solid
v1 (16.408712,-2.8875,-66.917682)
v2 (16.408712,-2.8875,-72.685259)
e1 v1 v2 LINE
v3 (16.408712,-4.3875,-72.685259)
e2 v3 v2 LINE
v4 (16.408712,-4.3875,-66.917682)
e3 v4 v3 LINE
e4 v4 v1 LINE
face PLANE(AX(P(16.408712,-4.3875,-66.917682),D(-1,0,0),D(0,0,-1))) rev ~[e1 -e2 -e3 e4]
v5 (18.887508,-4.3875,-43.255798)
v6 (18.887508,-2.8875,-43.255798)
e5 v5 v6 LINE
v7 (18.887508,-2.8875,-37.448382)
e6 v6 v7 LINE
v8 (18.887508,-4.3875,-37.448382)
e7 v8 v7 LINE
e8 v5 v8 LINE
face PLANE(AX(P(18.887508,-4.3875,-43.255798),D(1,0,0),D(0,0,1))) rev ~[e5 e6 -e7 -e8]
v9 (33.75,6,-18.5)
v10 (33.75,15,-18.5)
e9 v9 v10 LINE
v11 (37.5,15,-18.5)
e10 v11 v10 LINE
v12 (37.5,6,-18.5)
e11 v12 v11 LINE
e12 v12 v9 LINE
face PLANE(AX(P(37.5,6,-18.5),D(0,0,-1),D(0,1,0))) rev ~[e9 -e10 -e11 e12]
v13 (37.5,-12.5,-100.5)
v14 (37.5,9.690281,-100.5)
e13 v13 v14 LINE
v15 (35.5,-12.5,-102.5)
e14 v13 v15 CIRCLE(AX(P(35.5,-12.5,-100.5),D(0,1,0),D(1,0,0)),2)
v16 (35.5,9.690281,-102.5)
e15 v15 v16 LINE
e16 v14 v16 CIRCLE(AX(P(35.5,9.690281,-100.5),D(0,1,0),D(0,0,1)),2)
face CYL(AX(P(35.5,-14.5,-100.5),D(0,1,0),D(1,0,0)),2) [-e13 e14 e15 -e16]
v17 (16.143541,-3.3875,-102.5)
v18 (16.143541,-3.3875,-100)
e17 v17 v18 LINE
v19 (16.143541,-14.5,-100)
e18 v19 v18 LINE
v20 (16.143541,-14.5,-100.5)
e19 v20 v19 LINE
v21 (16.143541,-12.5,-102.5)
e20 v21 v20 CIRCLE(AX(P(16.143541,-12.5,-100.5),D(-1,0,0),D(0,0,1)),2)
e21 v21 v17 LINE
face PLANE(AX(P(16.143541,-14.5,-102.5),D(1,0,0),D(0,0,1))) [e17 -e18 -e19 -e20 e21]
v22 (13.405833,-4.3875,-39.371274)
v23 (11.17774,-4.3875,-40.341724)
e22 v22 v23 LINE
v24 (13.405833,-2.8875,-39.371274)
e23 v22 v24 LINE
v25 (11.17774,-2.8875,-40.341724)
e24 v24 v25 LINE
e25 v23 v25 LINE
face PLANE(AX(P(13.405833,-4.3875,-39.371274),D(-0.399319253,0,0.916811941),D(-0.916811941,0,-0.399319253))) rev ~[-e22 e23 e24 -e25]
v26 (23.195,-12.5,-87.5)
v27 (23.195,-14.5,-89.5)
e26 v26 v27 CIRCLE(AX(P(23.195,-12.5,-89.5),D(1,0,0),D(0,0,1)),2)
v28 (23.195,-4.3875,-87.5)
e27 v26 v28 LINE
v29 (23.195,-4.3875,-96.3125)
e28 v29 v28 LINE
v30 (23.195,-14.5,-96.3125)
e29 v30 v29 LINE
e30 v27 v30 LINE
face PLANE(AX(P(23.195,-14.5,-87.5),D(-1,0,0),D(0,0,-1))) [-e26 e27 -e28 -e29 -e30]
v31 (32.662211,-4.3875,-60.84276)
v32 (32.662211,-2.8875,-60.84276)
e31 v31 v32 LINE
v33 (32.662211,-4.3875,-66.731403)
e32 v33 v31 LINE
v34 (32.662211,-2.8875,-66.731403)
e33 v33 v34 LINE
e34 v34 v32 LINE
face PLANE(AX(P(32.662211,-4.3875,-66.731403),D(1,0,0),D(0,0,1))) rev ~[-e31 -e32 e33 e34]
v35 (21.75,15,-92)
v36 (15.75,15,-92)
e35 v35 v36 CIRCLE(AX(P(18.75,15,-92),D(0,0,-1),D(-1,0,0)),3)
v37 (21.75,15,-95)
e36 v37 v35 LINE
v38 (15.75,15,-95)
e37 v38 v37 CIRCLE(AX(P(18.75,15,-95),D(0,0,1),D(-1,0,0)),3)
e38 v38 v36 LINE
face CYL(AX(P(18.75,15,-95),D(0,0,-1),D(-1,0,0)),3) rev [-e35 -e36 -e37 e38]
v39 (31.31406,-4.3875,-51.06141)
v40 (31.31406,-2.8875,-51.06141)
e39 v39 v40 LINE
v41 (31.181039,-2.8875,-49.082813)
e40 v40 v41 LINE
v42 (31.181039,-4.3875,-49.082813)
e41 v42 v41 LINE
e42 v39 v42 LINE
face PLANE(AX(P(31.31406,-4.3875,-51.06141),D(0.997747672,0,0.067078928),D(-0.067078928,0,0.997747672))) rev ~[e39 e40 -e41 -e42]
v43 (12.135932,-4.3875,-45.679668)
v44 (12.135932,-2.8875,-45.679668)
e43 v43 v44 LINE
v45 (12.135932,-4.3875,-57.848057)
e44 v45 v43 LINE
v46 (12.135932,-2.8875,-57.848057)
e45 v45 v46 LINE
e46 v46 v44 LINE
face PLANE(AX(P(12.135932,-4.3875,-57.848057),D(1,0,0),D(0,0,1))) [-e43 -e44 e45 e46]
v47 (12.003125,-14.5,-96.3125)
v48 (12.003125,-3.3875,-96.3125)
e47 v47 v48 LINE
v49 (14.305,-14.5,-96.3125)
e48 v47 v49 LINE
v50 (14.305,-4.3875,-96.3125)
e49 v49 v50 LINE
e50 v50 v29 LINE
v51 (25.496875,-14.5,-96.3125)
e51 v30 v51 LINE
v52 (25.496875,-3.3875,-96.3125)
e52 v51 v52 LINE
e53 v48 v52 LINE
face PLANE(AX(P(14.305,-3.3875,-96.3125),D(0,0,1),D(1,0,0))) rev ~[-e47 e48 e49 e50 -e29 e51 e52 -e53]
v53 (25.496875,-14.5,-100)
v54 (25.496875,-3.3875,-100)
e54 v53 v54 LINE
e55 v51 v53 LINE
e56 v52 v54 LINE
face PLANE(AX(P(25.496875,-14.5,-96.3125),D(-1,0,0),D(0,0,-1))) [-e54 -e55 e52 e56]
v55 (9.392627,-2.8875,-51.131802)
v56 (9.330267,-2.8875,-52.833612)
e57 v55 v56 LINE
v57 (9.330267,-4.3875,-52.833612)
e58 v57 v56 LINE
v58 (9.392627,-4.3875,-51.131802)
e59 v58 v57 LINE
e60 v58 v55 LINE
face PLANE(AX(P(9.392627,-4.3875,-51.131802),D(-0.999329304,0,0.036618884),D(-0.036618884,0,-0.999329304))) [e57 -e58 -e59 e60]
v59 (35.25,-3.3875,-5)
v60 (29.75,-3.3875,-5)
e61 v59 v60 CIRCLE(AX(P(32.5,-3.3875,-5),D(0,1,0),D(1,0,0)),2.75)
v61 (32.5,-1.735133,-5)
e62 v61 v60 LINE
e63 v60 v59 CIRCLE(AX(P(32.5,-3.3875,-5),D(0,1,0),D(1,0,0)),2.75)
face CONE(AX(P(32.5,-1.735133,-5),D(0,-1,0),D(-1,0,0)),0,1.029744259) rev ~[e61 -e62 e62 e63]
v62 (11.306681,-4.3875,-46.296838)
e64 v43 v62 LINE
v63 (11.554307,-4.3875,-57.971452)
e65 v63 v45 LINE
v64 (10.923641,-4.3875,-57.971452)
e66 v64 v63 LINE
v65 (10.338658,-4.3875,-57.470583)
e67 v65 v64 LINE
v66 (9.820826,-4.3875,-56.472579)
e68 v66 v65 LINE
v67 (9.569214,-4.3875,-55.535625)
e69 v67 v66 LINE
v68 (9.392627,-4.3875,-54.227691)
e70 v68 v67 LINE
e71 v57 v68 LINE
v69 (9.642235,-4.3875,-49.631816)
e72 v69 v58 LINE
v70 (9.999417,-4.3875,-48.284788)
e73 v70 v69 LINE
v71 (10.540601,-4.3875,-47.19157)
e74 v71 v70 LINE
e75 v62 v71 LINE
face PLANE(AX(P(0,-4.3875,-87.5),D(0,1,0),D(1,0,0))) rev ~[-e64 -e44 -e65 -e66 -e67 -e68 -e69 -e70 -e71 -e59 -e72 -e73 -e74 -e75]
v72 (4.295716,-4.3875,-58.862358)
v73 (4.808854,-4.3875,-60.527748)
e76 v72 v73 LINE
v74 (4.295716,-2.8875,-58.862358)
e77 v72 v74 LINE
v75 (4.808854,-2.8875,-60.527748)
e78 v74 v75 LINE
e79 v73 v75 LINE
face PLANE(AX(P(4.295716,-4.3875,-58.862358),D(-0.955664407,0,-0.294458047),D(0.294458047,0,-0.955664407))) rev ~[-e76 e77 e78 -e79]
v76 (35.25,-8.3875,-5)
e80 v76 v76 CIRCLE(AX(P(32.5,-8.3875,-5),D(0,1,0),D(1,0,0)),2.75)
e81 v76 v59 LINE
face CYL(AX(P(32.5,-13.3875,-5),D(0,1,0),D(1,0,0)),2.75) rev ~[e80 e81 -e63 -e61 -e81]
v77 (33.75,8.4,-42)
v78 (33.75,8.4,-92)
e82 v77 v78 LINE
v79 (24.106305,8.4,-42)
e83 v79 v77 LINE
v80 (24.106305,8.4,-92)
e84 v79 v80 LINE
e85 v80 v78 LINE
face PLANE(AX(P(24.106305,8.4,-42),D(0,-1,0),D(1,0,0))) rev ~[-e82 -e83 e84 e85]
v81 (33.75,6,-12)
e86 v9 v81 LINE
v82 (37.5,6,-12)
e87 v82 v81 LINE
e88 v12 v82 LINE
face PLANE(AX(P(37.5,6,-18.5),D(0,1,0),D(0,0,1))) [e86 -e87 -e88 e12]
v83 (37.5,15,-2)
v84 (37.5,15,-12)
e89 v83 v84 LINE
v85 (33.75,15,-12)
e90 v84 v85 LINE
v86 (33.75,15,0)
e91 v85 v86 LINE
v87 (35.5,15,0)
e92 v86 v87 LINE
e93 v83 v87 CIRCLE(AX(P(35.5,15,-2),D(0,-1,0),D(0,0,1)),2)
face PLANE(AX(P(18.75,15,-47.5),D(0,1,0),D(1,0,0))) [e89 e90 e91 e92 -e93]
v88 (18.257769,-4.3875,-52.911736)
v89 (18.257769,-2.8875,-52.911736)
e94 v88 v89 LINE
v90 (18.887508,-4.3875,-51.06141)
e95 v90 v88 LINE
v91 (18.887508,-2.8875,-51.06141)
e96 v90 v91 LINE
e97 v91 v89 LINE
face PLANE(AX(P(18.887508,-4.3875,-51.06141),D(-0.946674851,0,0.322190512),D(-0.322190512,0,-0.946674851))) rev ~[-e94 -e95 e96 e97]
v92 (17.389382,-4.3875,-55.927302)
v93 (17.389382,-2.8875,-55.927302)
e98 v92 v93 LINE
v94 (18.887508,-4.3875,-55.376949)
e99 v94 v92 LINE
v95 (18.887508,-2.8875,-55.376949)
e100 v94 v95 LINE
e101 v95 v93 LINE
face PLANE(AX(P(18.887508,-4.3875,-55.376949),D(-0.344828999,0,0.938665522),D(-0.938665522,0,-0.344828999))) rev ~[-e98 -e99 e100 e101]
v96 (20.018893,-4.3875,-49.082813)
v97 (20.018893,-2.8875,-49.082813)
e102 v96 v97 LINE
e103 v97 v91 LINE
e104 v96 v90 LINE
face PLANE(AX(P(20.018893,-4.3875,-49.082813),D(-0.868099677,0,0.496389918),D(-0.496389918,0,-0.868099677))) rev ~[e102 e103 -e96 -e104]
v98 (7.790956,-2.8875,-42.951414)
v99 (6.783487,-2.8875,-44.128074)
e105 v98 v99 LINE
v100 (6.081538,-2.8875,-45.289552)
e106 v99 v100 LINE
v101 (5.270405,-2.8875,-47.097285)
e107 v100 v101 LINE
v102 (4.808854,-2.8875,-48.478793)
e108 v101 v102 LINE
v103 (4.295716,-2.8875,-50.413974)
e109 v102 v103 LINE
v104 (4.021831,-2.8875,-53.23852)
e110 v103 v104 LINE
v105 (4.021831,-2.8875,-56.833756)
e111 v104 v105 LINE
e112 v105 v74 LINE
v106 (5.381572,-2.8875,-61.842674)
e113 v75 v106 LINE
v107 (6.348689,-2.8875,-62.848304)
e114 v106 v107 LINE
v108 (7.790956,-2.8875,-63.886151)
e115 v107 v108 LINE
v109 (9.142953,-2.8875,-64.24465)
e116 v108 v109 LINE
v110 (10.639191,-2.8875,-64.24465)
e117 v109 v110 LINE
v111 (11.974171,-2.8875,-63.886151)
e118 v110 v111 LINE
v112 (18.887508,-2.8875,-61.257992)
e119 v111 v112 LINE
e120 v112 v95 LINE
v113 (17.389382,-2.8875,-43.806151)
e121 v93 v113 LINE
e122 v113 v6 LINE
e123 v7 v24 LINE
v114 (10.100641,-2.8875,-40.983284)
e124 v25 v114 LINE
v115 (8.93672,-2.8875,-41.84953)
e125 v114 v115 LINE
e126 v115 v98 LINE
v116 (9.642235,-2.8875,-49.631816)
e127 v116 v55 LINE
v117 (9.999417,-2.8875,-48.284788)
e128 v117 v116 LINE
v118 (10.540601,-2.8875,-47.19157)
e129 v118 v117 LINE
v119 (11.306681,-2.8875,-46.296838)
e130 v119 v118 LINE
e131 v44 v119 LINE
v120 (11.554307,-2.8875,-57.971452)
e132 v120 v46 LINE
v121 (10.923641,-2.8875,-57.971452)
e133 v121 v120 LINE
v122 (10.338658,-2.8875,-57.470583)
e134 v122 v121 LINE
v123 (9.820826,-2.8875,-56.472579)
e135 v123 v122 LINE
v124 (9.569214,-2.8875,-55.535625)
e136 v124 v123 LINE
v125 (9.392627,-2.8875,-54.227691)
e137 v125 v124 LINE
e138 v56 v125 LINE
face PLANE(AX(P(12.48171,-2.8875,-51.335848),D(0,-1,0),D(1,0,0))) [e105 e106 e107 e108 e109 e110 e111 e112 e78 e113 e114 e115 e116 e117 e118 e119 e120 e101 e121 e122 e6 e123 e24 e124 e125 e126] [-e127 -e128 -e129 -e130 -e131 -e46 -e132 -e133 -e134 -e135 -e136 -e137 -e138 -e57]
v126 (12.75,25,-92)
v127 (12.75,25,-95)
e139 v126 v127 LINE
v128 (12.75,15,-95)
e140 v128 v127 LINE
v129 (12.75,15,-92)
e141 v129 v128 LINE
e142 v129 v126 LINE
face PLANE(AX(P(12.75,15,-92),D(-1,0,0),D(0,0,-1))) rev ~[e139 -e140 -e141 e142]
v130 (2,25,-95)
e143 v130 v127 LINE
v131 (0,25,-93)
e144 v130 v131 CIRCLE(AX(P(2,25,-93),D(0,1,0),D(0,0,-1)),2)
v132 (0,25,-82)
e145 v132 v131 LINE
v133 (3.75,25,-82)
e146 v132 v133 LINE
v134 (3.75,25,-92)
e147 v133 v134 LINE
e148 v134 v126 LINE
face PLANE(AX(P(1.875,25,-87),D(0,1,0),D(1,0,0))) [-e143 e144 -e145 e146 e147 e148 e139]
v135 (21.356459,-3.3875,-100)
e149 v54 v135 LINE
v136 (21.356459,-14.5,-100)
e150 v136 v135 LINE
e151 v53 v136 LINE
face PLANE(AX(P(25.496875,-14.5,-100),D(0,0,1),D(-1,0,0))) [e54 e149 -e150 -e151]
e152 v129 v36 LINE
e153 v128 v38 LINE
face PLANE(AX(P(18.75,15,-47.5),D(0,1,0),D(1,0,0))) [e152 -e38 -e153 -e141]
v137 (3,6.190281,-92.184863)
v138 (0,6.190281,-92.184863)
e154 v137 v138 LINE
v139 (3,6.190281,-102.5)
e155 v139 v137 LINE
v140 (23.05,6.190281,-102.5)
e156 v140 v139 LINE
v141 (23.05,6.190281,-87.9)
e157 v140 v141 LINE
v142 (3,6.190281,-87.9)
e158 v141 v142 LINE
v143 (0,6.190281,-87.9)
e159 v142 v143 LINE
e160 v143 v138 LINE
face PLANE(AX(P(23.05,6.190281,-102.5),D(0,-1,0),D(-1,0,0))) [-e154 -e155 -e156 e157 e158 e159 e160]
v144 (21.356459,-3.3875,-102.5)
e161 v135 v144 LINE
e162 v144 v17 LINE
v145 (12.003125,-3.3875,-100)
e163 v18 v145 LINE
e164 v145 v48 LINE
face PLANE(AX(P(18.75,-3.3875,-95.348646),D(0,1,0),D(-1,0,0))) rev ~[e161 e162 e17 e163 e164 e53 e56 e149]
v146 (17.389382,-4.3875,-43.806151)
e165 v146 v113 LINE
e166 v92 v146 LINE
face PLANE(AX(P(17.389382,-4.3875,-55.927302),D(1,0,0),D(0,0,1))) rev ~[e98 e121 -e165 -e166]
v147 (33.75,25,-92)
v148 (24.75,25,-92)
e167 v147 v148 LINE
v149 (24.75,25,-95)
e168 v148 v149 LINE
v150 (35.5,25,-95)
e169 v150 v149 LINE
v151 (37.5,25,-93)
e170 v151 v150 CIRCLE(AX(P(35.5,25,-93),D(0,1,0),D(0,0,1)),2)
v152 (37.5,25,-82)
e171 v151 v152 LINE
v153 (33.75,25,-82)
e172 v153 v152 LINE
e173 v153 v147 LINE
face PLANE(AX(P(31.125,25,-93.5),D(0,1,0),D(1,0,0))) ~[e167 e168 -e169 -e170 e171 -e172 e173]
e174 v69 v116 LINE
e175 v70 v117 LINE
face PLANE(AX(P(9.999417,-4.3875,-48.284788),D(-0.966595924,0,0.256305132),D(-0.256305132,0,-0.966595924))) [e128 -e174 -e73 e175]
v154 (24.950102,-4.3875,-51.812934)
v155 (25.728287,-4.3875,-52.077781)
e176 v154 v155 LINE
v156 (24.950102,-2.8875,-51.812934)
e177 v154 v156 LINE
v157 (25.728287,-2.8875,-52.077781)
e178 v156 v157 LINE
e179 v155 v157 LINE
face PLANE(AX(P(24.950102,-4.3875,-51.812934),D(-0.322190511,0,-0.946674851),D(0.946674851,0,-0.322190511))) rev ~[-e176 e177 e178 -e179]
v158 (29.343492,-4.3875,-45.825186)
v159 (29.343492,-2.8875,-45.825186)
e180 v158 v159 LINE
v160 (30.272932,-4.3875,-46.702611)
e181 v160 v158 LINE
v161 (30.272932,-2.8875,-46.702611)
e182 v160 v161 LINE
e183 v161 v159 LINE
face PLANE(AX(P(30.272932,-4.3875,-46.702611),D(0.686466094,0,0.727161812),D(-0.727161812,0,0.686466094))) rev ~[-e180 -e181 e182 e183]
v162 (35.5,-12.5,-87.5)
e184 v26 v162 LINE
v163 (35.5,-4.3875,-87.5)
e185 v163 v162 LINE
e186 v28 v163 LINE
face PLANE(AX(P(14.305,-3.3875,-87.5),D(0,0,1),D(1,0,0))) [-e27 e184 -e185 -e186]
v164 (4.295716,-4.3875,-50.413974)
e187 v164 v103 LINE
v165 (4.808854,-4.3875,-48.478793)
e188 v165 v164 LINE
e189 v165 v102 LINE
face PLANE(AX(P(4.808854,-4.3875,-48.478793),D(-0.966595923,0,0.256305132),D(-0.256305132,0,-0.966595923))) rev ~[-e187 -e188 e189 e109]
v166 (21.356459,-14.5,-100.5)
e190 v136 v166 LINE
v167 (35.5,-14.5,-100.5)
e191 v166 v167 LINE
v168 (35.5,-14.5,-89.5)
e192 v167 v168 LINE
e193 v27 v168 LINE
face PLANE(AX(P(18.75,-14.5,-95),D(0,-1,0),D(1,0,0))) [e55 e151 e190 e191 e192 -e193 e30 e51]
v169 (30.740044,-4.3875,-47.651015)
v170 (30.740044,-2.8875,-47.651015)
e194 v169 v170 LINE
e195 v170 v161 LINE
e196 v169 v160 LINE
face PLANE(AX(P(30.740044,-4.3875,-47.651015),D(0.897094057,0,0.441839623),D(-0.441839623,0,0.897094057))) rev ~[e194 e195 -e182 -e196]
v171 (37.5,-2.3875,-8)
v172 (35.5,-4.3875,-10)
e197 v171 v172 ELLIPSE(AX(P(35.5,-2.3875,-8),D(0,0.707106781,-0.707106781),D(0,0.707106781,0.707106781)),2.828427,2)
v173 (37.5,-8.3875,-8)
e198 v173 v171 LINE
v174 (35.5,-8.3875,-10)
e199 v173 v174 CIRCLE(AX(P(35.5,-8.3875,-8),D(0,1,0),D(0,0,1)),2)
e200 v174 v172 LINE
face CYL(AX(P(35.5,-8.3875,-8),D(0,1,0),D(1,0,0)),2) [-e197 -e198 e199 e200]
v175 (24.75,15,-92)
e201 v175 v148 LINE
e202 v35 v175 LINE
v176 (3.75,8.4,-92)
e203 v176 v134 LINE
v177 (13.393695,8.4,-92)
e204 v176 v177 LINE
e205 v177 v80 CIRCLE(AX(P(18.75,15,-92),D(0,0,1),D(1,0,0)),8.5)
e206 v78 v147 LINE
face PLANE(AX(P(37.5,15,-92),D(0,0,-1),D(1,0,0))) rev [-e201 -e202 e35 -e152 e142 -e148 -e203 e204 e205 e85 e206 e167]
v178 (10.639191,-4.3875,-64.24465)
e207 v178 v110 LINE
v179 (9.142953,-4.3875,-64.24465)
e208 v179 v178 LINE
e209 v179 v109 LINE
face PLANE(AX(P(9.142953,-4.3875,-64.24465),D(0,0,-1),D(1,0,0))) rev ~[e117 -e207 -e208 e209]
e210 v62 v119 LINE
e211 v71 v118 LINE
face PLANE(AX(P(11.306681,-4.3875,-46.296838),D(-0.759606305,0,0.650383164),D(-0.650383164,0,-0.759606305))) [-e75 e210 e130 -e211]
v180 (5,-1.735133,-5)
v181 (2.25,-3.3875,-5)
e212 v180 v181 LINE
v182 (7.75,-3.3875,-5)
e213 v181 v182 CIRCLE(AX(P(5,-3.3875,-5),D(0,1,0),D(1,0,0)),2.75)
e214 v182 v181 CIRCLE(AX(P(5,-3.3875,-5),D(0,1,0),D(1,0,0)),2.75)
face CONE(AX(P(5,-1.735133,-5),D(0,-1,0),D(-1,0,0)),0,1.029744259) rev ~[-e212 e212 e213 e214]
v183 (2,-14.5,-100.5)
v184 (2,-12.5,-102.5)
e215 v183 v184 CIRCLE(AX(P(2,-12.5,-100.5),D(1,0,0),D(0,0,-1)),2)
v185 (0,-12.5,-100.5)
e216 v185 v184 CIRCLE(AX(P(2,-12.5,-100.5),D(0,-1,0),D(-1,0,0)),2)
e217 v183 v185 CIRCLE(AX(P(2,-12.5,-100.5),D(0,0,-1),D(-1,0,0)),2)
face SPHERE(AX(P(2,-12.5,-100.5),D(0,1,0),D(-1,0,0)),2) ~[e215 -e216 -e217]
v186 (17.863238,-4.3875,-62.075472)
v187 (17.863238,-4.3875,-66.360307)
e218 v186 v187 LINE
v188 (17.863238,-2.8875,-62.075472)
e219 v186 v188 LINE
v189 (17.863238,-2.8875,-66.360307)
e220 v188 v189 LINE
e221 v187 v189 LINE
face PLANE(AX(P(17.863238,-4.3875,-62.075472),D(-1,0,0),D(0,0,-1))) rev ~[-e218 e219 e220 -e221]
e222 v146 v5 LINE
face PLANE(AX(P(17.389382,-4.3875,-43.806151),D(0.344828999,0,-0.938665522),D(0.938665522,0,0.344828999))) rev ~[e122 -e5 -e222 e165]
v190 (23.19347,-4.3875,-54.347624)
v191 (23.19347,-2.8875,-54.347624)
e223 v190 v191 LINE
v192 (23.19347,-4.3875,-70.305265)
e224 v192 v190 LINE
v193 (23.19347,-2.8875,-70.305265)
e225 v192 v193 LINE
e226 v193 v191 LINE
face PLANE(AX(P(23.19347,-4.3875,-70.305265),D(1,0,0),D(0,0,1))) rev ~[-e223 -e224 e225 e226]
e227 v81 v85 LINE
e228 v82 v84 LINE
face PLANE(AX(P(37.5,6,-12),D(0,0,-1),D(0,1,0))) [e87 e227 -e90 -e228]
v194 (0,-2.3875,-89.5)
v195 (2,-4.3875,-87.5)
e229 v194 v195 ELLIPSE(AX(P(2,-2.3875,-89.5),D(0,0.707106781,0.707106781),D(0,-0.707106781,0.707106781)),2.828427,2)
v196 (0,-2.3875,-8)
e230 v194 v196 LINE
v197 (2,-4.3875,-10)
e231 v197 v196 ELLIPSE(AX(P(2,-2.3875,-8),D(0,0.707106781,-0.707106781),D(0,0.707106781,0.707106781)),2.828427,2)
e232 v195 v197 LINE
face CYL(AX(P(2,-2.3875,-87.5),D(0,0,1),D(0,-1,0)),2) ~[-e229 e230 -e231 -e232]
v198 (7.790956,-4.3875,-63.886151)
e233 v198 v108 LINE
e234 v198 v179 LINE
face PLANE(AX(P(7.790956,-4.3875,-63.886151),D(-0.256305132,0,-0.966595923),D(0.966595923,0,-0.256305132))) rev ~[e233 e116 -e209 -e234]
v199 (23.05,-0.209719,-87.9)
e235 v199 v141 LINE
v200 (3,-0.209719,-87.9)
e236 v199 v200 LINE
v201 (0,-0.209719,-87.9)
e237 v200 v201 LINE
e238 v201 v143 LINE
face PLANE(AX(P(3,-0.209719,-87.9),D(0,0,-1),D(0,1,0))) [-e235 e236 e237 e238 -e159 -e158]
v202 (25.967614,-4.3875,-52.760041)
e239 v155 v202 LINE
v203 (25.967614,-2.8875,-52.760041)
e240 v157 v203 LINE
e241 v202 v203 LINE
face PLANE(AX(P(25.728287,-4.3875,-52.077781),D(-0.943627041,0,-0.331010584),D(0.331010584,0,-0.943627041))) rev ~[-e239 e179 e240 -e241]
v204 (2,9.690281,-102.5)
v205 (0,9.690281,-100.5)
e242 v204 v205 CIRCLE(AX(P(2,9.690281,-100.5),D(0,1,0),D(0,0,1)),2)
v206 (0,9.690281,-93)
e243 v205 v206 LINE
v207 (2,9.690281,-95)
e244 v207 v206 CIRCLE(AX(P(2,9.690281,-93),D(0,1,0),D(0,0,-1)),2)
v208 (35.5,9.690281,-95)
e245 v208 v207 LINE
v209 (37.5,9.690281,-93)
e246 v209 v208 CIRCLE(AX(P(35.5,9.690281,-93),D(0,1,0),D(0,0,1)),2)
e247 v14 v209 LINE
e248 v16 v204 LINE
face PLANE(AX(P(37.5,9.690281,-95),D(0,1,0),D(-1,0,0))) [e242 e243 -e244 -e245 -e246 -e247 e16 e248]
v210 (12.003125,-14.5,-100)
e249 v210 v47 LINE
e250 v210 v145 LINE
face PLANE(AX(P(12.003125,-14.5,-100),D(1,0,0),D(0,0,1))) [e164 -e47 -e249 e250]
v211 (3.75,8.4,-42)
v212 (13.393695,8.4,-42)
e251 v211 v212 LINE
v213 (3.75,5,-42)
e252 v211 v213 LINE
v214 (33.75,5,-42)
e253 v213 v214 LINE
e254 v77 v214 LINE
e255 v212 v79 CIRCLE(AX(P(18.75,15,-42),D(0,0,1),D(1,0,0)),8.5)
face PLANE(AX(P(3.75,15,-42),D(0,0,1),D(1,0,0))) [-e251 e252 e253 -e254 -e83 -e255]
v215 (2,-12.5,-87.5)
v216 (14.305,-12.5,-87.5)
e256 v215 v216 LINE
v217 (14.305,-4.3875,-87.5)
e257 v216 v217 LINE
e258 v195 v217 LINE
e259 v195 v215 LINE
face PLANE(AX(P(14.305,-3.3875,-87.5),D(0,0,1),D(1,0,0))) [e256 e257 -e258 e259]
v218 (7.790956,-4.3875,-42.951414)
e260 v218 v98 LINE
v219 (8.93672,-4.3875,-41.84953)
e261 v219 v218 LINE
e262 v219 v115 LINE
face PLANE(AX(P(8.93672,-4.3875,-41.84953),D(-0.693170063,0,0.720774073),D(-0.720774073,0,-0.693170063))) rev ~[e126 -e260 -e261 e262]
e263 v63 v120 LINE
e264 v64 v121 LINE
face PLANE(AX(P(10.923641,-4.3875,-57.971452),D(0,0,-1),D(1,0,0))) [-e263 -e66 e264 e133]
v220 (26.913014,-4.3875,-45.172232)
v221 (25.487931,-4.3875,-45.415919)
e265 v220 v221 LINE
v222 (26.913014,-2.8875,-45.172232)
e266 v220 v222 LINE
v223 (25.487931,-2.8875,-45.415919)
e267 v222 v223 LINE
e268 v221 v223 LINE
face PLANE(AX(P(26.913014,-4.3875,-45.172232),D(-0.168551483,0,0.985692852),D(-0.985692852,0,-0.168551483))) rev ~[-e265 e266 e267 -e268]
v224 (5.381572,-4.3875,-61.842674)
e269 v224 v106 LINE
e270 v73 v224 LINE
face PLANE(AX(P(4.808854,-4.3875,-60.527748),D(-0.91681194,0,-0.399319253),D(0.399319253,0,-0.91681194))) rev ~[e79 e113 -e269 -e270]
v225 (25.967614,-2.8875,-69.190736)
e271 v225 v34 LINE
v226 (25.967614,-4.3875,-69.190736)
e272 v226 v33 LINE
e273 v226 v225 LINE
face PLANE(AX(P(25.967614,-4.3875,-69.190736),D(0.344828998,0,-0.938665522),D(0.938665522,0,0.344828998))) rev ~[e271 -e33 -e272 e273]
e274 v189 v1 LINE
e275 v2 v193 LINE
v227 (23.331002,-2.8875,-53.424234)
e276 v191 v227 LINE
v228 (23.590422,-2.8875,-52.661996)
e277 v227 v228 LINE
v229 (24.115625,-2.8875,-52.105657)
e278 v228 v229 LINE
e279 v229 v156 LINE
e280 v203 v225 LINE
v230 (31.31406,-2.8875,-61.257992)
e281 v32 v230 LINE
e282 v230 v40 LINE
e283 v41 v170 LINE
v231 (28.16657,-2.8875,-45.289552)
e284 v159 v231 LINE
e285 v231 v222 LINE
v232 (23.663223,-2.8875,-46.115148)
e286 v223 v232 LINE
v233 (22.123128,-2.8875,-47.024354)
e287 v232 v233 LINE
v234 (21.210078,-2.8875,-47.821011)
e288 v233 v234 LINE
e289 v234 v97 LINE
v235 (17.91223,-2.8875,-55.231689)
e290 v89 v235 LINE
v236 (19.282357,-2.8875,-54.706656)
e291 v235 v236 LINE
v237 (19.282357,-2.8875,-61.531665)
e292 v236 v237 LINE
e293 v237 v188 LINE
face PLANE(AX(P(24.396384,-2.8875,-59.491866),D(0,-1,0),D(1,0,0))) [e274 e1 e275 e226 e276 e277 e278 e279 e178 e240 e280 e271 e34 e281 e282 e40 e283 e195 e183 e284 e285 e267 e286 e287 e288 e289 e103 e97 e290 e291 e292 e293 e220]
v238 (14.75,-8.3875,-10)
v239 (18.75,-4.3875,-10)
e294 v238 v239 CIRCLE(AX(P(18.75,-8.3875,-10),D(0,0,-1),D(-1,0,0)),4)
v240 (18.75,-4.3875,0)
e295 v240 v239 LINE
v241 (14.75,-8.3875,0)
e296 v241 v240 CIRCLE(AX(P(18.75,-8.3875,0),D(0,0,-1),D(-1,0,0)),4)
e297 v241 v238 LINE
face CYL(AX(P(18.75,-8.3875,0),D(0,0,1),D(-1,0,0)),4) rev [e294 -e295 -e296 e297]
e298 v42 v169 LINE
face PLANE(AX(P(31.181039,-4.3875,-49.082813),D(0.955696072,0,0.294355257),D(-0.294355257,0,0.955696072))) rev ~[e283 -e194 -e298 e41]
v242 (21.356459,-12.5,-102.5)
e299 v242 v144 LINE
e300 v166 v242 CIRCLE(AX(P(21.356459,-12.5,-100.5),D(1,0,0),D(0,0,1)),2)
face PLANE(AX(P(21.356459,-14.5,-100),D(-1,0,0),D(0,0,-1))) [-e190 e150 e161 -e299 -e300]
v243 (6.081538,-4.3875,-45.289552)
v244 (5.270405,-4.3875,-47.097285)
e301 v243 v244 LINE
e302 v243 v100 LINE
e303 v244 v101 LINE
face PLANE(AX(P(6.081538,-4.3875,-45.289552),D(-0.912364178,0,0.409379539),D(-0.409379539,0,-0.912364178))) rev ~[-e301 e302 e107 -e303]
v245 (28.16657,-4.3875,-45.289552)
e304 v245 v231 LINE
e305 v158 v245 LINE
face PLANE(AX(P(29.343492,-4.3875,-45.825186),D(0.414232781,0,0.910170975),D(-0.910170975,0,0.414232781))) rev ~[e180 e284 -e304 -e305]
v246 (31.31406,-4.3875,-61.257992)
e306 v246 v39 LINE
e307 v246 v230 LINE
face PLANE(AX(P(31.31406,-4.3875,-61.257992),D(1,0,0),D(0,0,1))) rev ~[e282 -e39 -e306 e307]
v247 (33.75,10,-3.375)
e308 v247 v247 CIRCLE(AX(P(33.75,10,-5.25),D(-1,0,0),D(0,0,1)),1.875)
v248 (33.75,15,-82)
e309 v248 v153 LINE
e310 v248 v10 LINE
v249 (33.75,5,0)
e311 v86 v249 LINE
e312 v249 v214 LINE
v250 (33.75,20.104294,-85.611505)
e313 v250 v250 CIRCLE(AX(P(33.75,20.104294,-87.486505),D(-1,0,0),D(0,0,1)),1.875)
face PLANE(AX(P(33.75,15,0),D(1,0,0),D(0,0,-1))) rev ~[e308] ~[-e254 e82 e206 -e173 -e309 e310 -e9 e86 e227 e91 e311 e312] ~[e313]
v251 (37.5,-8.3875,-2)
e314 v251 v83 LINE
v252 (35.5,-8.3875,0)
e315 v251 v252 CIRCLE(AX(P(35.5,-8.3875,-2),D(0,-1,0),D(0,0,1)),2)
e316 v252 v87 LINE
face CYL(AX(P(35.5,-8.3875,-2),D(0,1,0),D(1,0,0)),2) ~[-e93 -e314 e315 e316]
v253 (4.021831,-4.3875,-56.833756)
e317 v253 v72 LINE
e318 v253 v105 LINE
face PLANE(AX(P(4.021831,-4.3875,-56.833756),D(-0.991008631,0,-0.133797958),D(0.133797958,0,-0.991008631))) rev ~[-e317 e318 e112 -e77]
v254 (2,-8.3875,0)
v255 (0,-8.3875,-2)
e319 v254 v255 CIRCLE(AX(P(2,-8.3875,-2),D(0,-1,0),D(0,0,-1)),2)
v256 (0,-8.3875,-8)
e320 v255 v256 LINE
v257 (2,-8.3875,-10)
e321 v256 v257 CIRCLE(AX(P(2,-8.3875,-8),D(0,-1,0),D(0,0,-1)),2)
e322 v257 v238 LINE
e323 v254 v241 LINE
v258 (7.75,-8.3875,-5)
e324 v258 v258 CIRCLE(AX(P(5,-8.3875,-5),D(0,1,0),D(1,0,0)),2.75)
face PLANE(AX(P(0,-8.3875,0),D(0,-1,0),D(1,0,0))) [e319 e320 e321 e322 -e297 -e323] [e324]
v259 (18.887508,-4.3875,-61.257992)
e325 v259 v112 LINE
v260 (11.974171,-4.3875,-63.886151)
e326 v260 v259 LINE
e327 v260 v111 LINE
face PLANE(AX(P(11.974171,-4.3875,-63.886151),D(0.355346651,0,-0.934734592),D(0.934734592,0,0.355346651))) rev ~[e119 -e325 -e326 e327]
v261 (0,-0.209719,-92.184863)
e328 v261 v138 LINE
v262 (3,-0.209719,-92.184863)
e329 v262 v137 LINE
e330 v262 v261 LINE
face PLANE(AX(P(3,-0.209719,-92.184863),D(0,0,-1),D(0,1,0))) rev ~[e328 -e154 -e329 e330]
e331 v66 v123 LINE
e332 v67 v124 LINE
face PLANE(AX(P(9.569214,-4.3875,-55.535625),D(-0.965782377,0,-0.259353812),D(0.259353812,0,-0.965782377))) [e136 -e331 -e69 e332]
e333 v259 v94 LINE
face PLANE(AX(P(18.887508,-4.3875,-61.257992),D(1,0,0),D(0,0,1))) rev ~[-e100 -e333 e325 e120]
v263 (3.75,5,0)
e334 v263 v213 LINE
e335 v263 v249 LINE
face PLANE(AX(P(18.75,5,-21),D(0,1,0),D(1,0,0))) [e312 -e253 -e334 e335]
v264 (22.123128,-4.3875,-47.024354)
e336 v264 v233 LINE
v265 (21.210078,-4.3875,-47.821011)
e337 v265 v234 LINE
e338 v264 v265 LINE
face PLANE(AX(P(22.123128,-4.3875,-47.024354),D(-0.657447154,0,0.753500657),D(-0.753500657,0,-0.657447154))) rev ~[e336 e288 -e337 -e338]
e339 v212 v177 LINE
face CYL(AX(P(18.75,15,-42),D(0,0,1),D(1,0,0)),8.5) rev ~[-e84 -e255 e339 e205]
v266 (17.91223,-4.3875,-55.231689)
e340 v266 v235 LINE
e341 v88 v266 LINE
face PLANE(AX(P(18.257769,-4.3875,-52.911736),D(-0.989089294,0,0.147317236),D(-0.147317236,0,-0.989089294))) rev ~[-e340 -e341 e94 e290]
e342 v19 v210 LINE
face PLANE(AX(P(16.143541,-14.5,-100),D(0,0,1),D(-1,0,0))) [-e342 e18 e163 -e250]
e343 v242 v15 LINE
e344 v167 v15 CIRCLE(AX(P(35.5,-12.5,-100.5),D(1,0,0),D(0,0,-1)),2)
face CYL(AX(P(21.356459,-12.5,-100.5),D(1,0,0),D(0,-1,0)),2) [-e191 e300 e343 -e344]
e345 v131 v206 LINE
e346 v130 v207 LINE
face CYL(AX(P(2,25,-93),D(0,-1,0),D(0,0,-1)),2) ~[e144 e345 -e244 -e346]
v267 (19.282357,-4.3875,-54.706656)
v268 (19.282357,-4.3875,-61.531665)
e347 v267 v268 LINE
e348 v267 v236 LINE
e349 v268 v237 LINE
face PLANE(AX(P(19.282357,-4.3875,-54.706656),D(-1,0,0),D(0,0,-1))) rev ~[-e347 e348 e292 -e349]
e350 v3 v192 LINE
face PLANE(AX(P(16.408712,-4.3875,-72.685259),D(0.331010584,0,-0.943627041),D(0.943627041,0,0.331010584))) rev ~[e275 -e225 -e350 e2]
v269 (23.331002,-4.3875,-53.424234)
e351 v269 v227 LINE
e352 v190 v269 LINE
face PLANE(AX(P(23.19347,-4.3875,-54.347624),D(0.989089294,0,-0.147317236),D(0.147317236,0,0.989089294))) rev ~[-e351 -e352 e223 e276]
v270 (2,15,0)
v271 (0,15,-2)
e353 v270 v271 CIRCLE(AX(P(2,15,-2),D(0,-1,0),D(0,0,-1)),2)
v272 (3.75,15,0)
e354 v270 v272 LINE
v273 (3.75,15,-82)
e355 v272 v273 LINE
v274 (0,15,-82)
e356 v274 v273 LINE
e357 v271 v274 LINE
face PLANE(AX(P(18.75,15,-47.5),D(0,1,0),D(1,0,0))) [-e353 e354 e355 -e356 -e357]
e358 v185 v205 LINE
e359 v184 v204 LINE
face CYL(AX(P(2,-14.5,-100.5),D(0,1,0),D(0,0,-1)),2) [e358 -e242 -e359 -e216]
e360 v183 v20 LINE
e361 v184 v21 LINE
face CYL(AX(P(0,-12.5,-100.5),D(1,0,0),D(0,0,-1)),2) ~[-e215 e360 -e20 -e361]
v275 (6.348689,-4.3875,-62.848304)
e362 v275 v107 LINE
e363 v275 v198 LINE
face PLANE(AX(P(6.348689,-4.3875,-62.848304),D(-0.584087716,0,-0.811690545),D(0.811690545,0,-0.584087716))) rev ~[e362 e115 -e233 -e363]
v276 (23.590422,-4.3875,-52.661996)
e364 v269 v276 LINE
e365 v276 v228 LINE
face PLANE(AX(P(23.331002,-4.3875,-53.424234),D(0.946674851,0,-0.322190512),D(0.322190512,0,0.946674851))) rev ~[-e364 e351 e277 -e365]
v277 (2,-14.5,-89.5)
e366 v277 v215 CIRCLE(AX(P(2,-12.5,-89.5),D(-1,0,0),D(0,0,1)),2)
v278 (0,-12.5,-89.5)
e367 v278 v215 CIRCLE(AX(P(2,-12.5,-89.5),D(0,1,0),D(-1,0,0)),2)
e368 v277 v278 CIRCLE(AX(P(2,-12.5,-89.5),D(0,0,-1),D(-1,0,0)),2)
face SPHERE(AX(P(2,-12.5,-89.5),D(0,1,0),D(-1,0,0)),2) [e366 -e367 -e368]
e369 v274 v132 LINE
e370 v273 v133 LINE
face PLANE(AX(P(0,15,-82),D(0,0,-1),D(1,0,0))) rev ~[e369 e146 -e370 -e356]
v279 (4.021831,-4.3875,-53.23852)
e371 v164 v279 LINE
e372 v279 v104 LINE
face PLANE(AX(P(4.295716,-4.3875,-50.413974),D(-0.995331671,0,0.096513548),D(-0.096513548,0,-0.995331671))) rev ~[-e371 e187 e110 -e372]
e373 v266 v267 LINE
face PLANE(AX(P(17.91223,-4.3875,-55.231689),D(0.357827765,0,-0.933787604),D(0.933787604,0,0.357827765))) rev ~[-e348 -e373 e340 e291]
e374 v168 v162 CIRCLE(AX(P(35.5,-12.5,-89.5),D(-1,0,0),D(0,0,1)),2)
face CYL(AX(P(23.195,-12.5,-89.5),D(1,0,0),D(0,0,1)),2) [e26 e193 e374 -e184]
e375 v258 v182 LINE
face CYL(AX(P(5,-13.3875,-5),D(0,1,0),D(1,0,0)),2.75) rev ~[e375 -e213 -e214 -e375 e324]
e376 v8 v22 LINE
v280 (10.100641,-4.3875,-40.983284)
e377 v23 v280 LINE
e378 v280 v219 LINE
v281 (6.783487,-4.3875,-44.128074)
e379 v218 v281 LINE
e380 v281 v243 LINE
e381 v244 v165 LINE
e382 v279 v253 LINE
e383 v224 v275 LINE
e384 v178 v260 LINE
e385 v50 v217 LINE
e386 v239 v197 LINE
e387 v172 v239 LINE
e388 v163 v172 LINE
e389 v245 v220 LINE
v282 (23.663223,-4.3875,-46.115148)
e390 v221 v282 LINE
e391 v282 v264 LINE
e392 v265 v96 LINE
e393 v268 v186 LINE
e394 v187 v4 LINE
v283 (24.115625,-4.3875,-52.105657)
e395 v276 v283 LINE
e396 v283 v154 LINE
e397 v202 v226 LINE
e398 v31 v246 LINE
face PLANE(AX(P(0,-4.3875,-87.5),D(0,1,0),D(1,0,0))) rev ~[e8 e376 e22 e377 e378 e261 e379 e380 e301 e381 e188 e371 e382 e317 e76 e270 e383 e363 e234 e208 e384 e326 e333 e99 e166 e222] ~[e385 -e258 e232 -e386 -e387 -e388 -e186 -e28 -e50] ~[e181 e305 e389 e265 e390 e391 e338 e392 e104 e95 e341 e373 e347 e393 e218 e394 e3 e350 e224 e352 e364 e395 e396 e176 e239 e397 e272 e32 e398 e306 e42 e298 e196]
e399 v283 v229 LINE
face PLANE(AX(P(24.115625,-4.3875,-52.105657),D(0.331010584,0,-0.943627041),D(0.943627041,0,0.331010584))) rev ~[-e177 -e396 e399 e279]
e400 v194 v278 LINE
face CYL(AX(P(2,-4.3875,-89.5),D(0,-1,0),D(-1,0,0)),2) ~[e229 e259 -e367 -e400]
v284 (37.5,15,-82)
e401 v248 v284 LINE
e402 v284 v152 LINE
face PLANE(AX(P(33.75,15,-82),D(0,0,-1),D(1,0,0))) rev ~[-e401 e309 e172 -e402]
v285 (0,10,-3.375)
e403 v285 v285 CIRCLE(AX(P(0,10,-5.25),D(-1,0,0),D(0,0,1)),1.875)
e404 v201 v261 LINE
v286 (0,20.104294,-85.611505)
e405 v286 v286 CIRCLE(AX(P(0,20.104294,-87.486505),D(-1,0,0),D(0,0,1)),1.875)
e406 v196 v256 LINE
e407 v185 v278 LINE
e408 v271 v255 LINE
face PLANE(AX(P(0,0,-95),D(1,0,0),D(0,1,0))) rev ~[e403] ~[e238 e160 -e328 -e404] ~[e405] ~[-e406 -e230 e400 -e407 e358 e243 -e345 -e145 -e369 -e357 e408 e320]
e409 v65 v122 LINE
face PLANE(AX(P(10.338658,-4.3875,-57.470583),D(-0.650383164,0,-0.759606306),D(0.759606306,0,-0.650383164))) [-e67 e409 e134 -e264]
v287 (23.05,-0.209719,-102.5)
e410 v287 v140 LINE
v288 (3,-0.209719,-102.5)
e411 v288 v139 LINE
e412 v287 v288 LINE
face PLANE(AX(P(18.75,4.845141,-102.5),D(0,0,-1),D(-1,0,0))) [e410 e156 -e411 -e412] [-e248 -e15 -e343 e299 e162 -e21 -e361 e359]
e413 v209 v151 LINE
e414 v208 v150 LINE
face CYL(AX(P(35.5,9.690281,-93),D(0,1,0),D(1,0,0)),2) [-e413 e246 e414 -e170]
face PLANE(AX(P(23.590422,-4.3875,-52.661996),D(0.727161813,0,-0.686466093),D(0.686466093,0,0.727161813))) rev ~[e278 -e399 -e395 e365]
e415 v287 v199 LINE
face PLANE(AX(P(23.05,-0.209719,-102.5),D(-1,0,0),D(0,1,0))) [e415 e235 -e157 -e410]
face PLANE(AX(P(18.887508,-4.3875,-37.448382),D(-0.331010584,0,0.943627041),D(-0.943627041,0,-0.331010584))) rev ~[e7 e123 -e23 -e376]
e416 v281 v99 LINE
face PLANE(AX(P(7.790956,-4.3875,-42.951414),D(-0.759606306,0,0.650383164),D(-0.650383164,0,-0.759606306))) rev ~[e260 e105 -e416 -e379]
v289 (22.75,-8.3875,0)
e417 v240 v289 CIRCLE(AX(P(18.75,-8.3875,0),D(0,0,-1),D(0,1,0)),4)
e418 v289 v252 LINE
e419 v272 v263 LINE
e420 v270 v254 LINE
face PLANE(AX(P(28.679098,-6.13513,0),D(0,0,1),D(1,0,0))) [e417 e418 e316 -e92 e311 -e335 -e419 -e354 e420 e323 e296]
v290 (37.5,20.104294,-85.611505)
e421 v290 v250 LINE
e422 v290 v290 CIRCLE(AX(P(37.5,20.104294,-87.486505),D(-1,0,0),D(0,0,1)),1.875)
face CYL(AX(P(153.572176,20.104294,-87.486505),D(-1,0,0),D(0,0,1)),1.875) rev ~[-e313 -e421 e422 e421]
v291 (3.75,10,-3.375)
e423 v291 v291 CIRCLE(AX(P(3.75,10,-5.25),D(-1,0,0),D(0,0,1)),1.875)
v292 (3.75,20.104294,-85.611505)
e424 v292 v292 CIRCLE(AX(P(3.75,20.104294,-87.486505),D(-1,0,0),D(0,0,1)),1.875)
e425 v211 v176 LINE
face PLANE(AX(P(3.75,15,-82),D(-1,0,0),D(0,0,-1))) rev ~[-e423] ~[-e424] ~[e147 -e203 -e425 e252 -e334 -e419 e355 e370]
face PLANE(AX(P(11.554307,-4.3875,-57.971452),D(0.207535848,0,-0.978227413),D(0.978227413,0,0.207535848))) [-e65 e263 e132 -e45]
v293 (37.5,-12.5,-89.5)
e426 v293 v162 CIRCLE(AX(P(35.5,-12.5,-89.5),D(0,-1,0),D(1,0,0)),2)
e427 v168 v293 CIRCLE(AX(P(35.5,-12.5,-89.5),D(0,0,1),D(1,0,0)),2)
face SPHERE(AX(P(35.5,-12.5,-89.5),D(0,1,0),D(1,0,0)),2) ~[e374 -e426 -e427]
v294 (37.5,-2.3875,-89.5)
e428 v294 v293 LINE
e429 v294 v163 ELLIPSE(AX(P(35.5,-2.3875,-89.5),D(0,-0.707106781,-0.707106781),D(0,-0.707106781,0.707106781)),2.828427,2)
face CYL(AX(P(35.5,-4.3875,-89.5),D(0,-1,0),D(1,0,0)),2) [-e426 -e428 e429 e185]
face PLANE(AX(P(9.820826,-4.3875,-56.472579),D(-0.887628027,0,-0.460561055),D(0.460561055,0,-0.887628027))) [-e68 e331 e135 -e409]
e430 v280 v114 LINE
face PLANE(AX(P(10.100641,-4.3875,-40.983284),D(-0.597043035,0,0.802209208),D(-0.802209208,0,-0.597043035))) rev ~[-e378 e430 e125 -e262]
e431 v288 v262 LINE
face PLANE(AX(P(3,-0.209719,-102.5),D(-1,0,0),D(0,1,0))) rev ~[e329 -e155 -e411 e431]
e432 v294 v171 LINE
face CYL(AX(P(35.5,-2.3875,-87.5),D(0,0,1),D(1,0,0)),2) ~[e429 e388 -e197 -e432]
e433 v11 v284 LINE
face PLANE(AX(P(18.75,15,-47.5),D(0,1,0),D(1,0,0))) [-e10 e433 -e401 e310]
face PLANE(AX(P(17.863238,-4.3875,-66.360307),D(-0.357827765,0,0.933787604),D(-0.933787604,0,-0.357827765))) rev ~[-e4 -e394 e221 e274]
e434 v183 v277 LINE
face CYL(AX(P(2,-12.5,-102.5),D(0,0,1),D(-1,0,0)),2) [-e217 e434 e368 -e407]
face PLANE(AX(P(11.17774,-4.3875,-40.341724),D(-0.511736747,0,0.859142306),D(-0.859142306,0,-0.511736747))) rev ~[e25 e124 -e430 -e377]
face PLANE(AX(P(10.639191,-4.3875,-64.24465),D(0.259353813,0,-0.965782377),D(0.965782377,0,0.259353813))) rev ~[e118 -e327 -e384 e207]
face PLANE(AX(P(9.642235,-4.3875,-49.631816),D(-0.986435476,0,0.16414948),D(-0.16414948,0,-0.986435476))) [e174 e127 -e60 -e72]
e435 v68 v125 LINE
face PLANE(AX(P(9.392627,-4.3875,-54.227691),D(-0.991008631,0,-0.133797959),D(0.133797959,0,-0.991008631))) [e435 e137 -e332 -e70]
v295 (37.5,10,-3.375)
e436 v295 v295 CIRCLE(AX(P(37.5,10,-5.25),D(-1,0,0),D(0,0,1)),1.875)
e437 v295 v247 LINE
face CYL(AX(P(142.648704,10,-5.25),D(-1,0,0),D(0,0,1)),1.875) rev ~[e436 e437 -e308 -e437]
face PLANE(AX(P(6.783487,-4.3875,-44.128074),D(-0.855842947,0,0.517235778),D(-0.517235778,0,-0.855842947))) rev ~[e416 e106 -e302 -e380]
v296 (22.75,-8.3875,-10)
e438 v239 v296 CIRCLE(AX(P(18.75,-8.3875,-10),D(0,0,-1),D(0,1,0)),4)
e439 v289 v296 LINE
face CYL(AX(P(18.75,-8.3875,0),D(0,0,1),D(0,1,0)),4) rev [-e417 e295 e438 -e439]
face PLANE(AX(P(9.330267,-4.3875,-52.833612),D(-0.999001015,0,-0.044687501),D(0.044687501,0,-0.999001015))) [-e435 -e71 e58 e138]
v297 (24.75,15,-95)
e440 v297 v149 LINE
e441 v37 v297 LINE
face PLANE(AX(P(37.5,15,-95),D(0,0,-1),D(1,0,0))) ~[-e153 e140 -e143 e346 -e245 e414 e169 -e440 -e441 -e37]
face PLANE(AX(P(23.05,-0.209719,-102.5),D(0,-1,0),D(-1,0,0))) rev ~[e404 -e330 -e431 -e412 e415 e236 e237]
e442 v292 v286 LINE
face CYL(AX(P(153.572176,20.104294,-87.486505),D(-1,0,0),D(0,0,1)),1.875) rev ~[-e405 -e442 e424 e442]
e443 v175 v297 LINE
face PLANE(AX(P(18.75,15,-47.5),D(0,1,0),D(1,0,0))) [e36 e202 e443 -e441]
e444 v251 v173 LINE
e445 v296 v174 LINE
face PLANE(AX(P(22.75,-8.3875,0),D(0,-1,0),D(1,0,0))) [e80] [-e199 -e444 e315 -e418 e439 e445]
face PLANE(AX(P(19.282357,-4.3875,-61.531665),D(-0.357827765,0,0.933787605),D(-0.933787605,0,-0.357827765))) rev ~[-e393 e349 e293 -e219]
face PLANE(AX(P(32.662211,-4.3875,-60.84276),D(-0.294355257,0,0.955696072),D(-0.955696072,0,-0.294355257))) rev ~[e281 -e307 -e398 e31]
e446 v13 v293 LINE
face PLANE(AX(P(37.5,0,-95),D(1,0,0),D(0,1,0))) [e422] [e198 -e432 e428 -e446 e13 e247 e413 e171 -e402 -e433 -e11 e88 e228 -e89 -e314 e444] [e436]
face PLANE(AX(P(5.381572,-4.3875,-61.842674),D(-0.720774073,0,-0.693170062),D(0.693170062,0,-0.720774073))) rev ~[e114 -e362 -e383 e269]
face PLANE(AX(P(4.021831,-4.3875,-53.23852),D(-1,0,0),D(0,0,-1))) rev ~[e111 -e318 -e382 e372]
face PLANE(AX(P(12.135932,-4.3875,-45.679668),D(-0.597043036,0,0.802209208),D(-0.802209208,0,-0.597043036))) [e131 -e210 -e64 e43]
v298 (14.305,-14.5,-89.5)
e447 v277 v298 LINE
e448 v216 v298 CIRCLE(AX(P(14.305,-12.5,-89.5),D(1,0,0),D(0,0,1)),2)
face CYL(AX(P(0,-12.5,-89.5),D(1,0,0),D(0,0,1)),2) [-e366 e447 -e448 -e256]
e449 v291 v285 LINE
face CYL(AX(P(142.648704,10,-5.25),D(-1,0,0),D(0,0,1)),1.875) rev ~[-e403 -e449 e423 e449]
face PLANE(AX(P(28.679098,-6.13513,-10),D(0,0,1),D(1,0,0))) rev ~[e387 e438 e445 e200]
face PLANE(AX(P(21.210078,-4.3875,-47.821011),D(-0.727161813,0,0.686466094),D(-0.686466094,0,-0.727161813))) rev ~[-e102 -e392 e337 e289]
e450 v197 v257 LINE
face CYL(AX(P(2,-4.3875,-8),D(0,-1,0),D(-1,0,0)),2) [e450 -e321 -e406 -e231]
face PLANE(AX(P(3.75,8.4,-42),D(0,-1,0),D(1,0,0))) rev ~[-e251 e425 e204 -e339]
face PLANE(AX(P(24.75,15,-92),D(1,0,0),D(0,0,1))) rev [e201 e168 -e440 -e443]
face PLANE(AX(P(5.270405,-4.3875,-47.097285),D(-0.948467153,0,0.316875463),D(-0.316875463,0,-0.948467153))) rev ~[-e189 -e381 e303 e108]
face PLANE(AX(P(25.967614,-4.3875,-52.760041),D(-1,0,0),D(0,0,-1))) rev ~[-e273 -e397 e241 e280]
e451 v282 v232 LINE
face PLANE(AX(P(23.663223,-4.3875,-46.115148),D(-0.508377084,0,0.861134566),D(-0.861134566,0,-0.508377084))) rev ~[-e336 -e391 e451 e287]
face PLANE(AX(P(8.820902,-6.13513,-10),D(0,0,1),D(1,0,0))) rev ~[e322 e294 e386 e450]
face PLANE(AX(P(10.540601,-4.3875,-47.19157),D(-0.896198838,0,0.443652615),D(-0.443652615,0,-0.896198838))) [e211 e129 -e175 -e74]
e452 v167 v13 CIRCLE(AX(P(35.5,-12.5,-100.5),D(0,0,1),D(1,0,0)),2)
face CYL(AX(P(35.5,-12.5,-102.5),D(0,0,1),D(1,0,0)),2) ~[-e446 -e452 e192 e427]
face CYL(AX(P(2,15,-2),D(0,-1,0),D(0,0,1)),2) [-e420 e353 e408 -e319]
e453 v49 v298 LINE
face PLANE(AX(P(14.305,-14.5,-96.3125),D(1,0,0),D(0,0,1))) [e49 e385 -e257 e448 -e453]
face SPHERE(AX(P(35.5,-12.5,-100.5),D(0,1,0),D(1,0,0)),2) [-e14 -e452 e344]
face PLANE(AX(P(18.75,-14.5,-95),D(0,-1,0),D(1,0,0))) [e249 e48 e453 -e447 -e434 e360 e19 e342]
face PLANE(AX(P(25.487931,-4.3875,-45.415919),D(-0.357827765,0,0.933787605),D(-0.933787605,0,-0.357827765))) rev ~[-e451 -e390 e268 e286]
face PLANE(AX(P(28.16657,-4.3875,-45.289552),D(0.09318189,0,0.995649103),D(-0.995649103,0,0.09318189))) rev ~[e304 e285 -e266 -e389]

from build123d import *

# Parameters (mm, degrees)
SKETCH2_W                 = 37.5
SKETCH2_H                 = 95
BOSS_EXTRUDE1_DEPTH       = 15
SKETCH3_W                 = 30
SKETCH3_H                 = 42
CUT_EXTRUDE1_DEPTH        = 10
SKETCH5_R                 = 8.5
SKETCH5_W                 = 30
SKETCH5_H                 = 6.6
CUT_EXTRUDE2_DEPTH        = 50
CUT_EXTRUDE3_DEPTH        = 10
SKETCH7_W                 = 6.5
SKETCH7_H                 = 9
CUT_EXTRUDE4_DEPTH        = 3.75
SKETCH8_W                 = 12.75
SKETCH8_H                 = 3
BOSS_EXTRUDE2_DEPTH       = 10
F_2_5MM_DOWEL_HOLE2_D     = 3.75
SKETCH14_W                = 37.5
SKETCH14_H                = 15
BOSS_EXTRUDE3_DEPTH       = 14.5
CUT_EXTRUDE5_DEPTH        = 11.1125
SKETCH16_W                = 8.89
SKETCH16_H                = 8.8125
BOSS_EXTRUDE4_DEPTH       = 1
SKETCH17_W                = 3.75
SKETCH17_H                = 10
BOSS_EXTRUDE5_DEPTH       = 10
F_2_5MM_DOWEL_HOLE3_D     = 3.75
SKETCH24_W                = 37.5
SKETCH24_H                = 4.3875
BOSS_EXTRUDE7_DEPTH       = 87.5
BOSS_EXTRUDE8_DEPTH       = 10
SKETCH26_W                = 37.5
SKETCH26_H                = 9.690281336
BOSS_EXTRUDE9_DEPTH       = 7.5
SKETCH27_W                = 20.05
SKETCH27_H                = 6.4
CUT_EXTRUDE6_DEPTH        = 14.6
FILLET2_R                 = 2
F_2_5MM_DOWEL_HOLE4_D     = 5.5
F_2_5MM_DOWEL_HOLE4_DEPTH = 5
F_2_5MM_DOWEL_HOLE4_TIP   = 1.652366702
SKETCH31_W                = 4.284862737
SKETCH31_H                = 6.4
CUT_EXTRUDE7_DEPTH        = 112.002252229
CUT_EXTRUDE8_DEPTH        = 1.5


with BuildPart() as part:
    # Sketch2 → Boss-Extrude1 (new body)
    with BuildSketch(Plane(origin=(0, 0, 0), x_dir=(1, 0, 0), z_dir=(0, 1, 0))):
        with Locations((18.75, 47.5)):
            Rectangle(SKETCH2_W, SKETCH2_H)
    extrude(amount=BOSS_EXTRUDE1_DEPTH)

    # Sketch3 → Cut-Extrude1 (cut)
    with BuildSketch(Plane(origin=(0, 15, 0), x_dir=(1, 0, 0), z_dir=(0, 1, 0))):
        with Locations((18.75, 21)):
            Rectangle(SKETCH3_W, SKETCH3_H)
    extrude(amount=-CUT_EXTRUDE1_DEPTH, mode=Mode.SUBTRACT)

    # Sketch5 → Cut-Extrude2 (cut)
    with BuildSketch(Plane.XY.offset(-42)):
        with Locations((18.75, 15)):
            Circle(SKETCH5_R)
        with Locations((18.75, 11.7)):
            Rectangle(SKETCH5_W, SKETCH5_H)
    extrude(amount=-CUT_EXTRUDE2_DEPTH, mode=Mode.SUBTRACT)

    # Sketch6 → Cut-Extrude3 (cut)
    with BuildSketch(Plane(origin=(0, 0, -95), x_dir=(-1, 0, 0), z_dir=(0, 0, -1))):
        with BuildLine():
            Line((-21.75, 15), (-15.75, 15))
            ThreePointArc((-15.75, 15), (-18.75, 12), (-21.75, 15))
        make_face()
    extrude(amount=-CUT_EXTRUDE3_DEPTH, mode=Mode.SUBTRACT)

    # Sketch7 → Cut-Extrude4 (cut)
    with BuildSketch(Plane.ZY.offset(-37.5)):
        with Locations((-15.25, 10.5)):
            Rectangle(SKETCH7_W, SKETCH7_H)
    extrude(amount=CUT_EXTRUDE4_DEPTH, mode=Mode.SUBTRACT)

    # Sketch8 → Boss-Extrude2 (add)
    with BuildSketch(Plane(origin=(0, 15, 0), x_dir=(1, 0, 0), z_dir=(0, 1, 0))):
        with Locations((6.375, 93.5)):
            Rectangle(SKETCH8_W, SKETCH8_H)
    boss_extrude2 = extrude(amount=BOSS_EXTRUDE2_DEPTH)

    # Mirror1: Boss-Extrude2 across plane
    add(boss_extrude2.mirror(Plane.ZY.offset(-18.75)))

    # Ø2.5mm Dowel Hole2 (through all)
    with Locations(Plane(origin=(37.5, 0, 0), x_dir=(0, 0, -1), z_dir=(1, 0, 0))):
        with Locations((5.25, 10)):
            Hole(F_2_5MM_DOWEL_HOLE2_D / 2)

    # Sketch14 → Boss-Extrude3 (add)
    with BuildSketch(Plane.XZ):
        with Locations((18.75, -95)):
            Rectangle(SKETCH14_W, SKETCH14_H)
    extrude(amount=BOSS_EXTRUDE3_DEPTH)

    # Sketch15 → Cut-Extrude5 (cut)
    with BuildSketch(Plane.XZ.offset(14.5)):
        Polygon((16.143541, -102.5), (16.143541, -100), (12.003125, -100), (12.003125, -96.3125), (14.305, -96.3125), (14.305, -87.5), (23.195, -87.5), (23.195, -96.3125), (25.496875, -96.3125), (25.496875, -100), (21.356459, -100), (21.356459, -102.5), align=None)
    extrude(amount=-CUT_EXTRUDE5_DEPTH, mode=Mode.SUBTRACT)

    # Sketch16 → Boss-Extrude4 (add)
    with BuildSketch(Plane.XZ.offset(3.3875)):
        with Locations((18.75, -91.90625)):
            Rectangle(SKETCH16_W, SKETCH16_H)
    extrude(amount=BOSS_EXTRUDE4_DEPTH)

    # Sketch17 → Boss-Extrude5 (add)
    with BuildSketch(Plane(origin=(0, 15, 0), x_dir=(1, 0, 0), z_dir=(0, 1, 0))):
        with Locations((1.875, 87)):
            Rectangle(SKETCH17_W, SKETCH17_H)
        with Locations((35.625, 87)):
            Rectangle(SKETCH17_W, SKETCH17_H)
    extrude(amount=BOSS_EXTRUDE5_DEPTH)

    # Ø2.5mm Dowel Hole3 (through all)
    with Locations(Plane(origin=(37.5, 0, 0), x_dir=(0, 0, -1), z_dir=(1, 0, 0))):
        with Locations((87.486504599, 20.104293775)):
            Hole(F_2_5MM_DOWEL_HOLE3_D / 2)

    # Sketch24 → Boss-Extrude7 (add)
    with BuildSketch(Plane.XY.offset(-87.5)):
        with Locations((18.75, -2.19375)):
            Rectangle(SKETCH24_W, SKETCH24_H)
    extrude(amount=BOSS_EXTRUDE7_DEPTH)

    # Sketch25 → Boss-Extrude8 (add)
    with BuildSketch(Plane.XY):
        with BuildLine():
            Line((37.5, -4.3875), (18.75, -4.3875))
            ThreePointArc((18.75, -4.3875), (21.578427125, -5.559072875), (22.75, -8.3875))
            Line((22.75, -8.3875), (37.5, -8.3875))
            Line((37.5, -8.3875), (37.5, -4.3875))
        make_face()
        with BuildLine():
            Line((18.75, -4.3875), (0, -4.3875))
            Line((0, -4.3875), (0, -8.3875))
            Line((0, -8.3875), (14.75, -8.3875))
            ThreePointArc((14.75, -8.3875), (15.921572875, -5.559072875), (18.75, -4.3875))
        make_face()
    extrude(amount=-BOSS_EXTRUDE8_DEPTH)

    # Sketch26 → Boss-Extrude9 (add)
    with BuildSketch(Plane(origin=(0, 0, -95), x_dir=(-1, 0, 0), z_dir=(0, 0, -1))):
        with Locations((-18.75, 4.845140668)):
            Rectangle(SKETCH26_W, SKETCH26_H)
    extrude(amount=BOSS_EXTRUDE9_DEPTH)

    # Sketch27 → Cut-Extrude6 (cut)
    with BuildSketch(Plane(origin=(0, 0, -102.5), x_dir=(-1, 0, 0), z_dir=(0, 0, -1))):
        with Locations((-13.025, 2.990281336)):
            Rectangle(SKETCH27_W, SKETCH27_H)
    extrude(amount=-CUT_EXTRUDE6_DEPTH, mode=Mode.SUBTRACT)

    # Fillet2
    fillet2_edges = [part.edges().sort_by_distance(p)[0] for p in [
        (0, -9.44375, -87.5),
        (0, -2.404859332, -102.5),
        (37.5, -2.404859332, -102.5),
        (37.5, -9.44375, -87.5),
        (0, -14.5, -95),
        (8.0717705, -14.5, -102.5),
        (37.5, -14.5, -95),
        (30.3475, -14.5, -87.5),
        (29.4282295, -14.5, -102.5),
        (7.1525, -14.5, -87.5),
        (37.5, -4.3875, -48.75),
        (37.5, -6.3875, -10),
        (0, -4.3875, -48.75),
        (0, -6.3875, -10),
        (0, 17.345140668, -95),
        (37.5, 17.345140668, -95),
        (37.5, 3.30625, 0),
        (0, 3.30625, 0),
    ]]
    fillet(fillet2_edges, radius=FILLET2_R)

    # Ø2.5mm Dowel Hole4
    with Locations(Plane(origin=(0, -8.3875, 0), x_dir=(-1, 0, 0), z_dir=(0, -1, 0))):
        with Locations((-32.5, 5), (-5, 5)):
            Hole(F_2_5MM_DOWEL_HOLE4_D / 2, depth=F_2_5MM_DOWEL_HOLE4_DEPTH)
            with Locations((0, 0, -(F_2_5MM_DOWEL_HOLE4_DEPTH + F_2_5MM_DOWEL_HOLE4_TIP / 2))):  # 118° drill point
                Cone(0, F_2_5MM_DOWEL_HOLE4_D / 2, F_2_5MM_DOWEL_HOLE4_TIP, mode=Mode.SUBTRACT)

    # Sketch31 → Cut-Extrude7 (cut, through all)
    with BuildSketch(Plane(origin=(3, 0, 0), x_dir=(0, 0, -1), z_dir=(1, 0, 0))):
        with Locations((90.042431369, 2.990281336)):
            Rectangle(SKETCH31_W, SKETCH31_H)
    extrude(amount=-CUT_EXTRUDE7_DEPTH, mode=Mode.SUBTRACT)

    # Sketch32 → Cut-Extrude8 (cut)
    with BuildSketch(Plane.XZ.offset(4.3875)):
        Polygon((32.662211036, -66.731402862), (32.662211036, -60.842760163), (31.314060446, -61.257991767), (31.314060446, -51.061409973), (31.181038698, -49.082813371), (30.740043615, -47.651015368), (30.272932489, -46.702611031), (29.343491661, -45.825186496), (28.166570354, -45.289551545), (26.913013893, -45.172232341), (25.487931235, -45.415918592), (23.663222713, -46.115147592), (22.123128119, -47.024353691), (21.210078183, -47.821011367), (20.018893116, -49.082813371), (18.887507594, -51.061409973), (18.257769049, -52.911736478), (17.912229988, -55.231688956), (19.282356905, -54.7066558), (19.282356905, -61.531664738), (17.863237505, -62.075471832), (17.863237505, -66.360306951), (16.408711909, -66.917681713), (16.408711909, -72.685258984), (23.193470428, -70.305264788), (23.193470428, -54.347624256), (23.331002369, -53.424233522), (23.59042172, -52.661995758), (24.115625328, -52.105656542), (24.950101738, -51.812934405), (25.728287005, -52.077781315), (25.967613662, -52.760040784), (25.967613662, -69.19073609), align=None)
        Polygon((18.887507594, -61.257991767), (18.887507594, -55.376949047), (17.389382, -55.927301794), (17.389382, -43.806150983), (18.887507594, -43.255798236), (18.887507594, -37.448382085), (13.405832614, -39.371273607), (11.177740444, -40.341723555), (10.100640592, -40.98328383), (8.936720005, -41.849530032), (7.790955921, -42.951413953), (6.783486907, -44.128073894), (6.081538262, -45.289551545), (5.270405037, -47.097284534), (4.808853701, -48.478793464), (4.295716054, -50.413974213), (4.021830569, -53.238519595), (4.021830569, -56.833755888), (4.295716054, -58.862358442), (4.808853701, -60.527748098), (5.381572286, -61.842674021), (6.348688627, -62.848303696), (7.790955921, -63.886150712), (9.142953346, -64.244649926), (10.639190518, -64.244649926), (11.974170787, -63.886150712), align=None)
        Polygon((12.135932336, -57.848057165), (12.135932336, -45.679668485), (11.306680653, -46.296837843), (10.540601176, -47.191570107), (9.999416807, -48.284787608), (9.642235274, -49.631815705), (9.392627445, -51.131802286), (9.330267236, -52.833612335), (9.392627445, -54.227691449), (9.569214099, -55.535625441), (9.82082604, -56.47257862), (10.338657712, -57.470582903), (10.923640914, -57.97145187), (11.554307118, -57.97145187), align=None, mode=Mode.SUBTRACT)
    extrude(amount=-CUT_EXTRUDE8_DEPTH, mode=Mode.SUBTRACT)


solid = part.part
